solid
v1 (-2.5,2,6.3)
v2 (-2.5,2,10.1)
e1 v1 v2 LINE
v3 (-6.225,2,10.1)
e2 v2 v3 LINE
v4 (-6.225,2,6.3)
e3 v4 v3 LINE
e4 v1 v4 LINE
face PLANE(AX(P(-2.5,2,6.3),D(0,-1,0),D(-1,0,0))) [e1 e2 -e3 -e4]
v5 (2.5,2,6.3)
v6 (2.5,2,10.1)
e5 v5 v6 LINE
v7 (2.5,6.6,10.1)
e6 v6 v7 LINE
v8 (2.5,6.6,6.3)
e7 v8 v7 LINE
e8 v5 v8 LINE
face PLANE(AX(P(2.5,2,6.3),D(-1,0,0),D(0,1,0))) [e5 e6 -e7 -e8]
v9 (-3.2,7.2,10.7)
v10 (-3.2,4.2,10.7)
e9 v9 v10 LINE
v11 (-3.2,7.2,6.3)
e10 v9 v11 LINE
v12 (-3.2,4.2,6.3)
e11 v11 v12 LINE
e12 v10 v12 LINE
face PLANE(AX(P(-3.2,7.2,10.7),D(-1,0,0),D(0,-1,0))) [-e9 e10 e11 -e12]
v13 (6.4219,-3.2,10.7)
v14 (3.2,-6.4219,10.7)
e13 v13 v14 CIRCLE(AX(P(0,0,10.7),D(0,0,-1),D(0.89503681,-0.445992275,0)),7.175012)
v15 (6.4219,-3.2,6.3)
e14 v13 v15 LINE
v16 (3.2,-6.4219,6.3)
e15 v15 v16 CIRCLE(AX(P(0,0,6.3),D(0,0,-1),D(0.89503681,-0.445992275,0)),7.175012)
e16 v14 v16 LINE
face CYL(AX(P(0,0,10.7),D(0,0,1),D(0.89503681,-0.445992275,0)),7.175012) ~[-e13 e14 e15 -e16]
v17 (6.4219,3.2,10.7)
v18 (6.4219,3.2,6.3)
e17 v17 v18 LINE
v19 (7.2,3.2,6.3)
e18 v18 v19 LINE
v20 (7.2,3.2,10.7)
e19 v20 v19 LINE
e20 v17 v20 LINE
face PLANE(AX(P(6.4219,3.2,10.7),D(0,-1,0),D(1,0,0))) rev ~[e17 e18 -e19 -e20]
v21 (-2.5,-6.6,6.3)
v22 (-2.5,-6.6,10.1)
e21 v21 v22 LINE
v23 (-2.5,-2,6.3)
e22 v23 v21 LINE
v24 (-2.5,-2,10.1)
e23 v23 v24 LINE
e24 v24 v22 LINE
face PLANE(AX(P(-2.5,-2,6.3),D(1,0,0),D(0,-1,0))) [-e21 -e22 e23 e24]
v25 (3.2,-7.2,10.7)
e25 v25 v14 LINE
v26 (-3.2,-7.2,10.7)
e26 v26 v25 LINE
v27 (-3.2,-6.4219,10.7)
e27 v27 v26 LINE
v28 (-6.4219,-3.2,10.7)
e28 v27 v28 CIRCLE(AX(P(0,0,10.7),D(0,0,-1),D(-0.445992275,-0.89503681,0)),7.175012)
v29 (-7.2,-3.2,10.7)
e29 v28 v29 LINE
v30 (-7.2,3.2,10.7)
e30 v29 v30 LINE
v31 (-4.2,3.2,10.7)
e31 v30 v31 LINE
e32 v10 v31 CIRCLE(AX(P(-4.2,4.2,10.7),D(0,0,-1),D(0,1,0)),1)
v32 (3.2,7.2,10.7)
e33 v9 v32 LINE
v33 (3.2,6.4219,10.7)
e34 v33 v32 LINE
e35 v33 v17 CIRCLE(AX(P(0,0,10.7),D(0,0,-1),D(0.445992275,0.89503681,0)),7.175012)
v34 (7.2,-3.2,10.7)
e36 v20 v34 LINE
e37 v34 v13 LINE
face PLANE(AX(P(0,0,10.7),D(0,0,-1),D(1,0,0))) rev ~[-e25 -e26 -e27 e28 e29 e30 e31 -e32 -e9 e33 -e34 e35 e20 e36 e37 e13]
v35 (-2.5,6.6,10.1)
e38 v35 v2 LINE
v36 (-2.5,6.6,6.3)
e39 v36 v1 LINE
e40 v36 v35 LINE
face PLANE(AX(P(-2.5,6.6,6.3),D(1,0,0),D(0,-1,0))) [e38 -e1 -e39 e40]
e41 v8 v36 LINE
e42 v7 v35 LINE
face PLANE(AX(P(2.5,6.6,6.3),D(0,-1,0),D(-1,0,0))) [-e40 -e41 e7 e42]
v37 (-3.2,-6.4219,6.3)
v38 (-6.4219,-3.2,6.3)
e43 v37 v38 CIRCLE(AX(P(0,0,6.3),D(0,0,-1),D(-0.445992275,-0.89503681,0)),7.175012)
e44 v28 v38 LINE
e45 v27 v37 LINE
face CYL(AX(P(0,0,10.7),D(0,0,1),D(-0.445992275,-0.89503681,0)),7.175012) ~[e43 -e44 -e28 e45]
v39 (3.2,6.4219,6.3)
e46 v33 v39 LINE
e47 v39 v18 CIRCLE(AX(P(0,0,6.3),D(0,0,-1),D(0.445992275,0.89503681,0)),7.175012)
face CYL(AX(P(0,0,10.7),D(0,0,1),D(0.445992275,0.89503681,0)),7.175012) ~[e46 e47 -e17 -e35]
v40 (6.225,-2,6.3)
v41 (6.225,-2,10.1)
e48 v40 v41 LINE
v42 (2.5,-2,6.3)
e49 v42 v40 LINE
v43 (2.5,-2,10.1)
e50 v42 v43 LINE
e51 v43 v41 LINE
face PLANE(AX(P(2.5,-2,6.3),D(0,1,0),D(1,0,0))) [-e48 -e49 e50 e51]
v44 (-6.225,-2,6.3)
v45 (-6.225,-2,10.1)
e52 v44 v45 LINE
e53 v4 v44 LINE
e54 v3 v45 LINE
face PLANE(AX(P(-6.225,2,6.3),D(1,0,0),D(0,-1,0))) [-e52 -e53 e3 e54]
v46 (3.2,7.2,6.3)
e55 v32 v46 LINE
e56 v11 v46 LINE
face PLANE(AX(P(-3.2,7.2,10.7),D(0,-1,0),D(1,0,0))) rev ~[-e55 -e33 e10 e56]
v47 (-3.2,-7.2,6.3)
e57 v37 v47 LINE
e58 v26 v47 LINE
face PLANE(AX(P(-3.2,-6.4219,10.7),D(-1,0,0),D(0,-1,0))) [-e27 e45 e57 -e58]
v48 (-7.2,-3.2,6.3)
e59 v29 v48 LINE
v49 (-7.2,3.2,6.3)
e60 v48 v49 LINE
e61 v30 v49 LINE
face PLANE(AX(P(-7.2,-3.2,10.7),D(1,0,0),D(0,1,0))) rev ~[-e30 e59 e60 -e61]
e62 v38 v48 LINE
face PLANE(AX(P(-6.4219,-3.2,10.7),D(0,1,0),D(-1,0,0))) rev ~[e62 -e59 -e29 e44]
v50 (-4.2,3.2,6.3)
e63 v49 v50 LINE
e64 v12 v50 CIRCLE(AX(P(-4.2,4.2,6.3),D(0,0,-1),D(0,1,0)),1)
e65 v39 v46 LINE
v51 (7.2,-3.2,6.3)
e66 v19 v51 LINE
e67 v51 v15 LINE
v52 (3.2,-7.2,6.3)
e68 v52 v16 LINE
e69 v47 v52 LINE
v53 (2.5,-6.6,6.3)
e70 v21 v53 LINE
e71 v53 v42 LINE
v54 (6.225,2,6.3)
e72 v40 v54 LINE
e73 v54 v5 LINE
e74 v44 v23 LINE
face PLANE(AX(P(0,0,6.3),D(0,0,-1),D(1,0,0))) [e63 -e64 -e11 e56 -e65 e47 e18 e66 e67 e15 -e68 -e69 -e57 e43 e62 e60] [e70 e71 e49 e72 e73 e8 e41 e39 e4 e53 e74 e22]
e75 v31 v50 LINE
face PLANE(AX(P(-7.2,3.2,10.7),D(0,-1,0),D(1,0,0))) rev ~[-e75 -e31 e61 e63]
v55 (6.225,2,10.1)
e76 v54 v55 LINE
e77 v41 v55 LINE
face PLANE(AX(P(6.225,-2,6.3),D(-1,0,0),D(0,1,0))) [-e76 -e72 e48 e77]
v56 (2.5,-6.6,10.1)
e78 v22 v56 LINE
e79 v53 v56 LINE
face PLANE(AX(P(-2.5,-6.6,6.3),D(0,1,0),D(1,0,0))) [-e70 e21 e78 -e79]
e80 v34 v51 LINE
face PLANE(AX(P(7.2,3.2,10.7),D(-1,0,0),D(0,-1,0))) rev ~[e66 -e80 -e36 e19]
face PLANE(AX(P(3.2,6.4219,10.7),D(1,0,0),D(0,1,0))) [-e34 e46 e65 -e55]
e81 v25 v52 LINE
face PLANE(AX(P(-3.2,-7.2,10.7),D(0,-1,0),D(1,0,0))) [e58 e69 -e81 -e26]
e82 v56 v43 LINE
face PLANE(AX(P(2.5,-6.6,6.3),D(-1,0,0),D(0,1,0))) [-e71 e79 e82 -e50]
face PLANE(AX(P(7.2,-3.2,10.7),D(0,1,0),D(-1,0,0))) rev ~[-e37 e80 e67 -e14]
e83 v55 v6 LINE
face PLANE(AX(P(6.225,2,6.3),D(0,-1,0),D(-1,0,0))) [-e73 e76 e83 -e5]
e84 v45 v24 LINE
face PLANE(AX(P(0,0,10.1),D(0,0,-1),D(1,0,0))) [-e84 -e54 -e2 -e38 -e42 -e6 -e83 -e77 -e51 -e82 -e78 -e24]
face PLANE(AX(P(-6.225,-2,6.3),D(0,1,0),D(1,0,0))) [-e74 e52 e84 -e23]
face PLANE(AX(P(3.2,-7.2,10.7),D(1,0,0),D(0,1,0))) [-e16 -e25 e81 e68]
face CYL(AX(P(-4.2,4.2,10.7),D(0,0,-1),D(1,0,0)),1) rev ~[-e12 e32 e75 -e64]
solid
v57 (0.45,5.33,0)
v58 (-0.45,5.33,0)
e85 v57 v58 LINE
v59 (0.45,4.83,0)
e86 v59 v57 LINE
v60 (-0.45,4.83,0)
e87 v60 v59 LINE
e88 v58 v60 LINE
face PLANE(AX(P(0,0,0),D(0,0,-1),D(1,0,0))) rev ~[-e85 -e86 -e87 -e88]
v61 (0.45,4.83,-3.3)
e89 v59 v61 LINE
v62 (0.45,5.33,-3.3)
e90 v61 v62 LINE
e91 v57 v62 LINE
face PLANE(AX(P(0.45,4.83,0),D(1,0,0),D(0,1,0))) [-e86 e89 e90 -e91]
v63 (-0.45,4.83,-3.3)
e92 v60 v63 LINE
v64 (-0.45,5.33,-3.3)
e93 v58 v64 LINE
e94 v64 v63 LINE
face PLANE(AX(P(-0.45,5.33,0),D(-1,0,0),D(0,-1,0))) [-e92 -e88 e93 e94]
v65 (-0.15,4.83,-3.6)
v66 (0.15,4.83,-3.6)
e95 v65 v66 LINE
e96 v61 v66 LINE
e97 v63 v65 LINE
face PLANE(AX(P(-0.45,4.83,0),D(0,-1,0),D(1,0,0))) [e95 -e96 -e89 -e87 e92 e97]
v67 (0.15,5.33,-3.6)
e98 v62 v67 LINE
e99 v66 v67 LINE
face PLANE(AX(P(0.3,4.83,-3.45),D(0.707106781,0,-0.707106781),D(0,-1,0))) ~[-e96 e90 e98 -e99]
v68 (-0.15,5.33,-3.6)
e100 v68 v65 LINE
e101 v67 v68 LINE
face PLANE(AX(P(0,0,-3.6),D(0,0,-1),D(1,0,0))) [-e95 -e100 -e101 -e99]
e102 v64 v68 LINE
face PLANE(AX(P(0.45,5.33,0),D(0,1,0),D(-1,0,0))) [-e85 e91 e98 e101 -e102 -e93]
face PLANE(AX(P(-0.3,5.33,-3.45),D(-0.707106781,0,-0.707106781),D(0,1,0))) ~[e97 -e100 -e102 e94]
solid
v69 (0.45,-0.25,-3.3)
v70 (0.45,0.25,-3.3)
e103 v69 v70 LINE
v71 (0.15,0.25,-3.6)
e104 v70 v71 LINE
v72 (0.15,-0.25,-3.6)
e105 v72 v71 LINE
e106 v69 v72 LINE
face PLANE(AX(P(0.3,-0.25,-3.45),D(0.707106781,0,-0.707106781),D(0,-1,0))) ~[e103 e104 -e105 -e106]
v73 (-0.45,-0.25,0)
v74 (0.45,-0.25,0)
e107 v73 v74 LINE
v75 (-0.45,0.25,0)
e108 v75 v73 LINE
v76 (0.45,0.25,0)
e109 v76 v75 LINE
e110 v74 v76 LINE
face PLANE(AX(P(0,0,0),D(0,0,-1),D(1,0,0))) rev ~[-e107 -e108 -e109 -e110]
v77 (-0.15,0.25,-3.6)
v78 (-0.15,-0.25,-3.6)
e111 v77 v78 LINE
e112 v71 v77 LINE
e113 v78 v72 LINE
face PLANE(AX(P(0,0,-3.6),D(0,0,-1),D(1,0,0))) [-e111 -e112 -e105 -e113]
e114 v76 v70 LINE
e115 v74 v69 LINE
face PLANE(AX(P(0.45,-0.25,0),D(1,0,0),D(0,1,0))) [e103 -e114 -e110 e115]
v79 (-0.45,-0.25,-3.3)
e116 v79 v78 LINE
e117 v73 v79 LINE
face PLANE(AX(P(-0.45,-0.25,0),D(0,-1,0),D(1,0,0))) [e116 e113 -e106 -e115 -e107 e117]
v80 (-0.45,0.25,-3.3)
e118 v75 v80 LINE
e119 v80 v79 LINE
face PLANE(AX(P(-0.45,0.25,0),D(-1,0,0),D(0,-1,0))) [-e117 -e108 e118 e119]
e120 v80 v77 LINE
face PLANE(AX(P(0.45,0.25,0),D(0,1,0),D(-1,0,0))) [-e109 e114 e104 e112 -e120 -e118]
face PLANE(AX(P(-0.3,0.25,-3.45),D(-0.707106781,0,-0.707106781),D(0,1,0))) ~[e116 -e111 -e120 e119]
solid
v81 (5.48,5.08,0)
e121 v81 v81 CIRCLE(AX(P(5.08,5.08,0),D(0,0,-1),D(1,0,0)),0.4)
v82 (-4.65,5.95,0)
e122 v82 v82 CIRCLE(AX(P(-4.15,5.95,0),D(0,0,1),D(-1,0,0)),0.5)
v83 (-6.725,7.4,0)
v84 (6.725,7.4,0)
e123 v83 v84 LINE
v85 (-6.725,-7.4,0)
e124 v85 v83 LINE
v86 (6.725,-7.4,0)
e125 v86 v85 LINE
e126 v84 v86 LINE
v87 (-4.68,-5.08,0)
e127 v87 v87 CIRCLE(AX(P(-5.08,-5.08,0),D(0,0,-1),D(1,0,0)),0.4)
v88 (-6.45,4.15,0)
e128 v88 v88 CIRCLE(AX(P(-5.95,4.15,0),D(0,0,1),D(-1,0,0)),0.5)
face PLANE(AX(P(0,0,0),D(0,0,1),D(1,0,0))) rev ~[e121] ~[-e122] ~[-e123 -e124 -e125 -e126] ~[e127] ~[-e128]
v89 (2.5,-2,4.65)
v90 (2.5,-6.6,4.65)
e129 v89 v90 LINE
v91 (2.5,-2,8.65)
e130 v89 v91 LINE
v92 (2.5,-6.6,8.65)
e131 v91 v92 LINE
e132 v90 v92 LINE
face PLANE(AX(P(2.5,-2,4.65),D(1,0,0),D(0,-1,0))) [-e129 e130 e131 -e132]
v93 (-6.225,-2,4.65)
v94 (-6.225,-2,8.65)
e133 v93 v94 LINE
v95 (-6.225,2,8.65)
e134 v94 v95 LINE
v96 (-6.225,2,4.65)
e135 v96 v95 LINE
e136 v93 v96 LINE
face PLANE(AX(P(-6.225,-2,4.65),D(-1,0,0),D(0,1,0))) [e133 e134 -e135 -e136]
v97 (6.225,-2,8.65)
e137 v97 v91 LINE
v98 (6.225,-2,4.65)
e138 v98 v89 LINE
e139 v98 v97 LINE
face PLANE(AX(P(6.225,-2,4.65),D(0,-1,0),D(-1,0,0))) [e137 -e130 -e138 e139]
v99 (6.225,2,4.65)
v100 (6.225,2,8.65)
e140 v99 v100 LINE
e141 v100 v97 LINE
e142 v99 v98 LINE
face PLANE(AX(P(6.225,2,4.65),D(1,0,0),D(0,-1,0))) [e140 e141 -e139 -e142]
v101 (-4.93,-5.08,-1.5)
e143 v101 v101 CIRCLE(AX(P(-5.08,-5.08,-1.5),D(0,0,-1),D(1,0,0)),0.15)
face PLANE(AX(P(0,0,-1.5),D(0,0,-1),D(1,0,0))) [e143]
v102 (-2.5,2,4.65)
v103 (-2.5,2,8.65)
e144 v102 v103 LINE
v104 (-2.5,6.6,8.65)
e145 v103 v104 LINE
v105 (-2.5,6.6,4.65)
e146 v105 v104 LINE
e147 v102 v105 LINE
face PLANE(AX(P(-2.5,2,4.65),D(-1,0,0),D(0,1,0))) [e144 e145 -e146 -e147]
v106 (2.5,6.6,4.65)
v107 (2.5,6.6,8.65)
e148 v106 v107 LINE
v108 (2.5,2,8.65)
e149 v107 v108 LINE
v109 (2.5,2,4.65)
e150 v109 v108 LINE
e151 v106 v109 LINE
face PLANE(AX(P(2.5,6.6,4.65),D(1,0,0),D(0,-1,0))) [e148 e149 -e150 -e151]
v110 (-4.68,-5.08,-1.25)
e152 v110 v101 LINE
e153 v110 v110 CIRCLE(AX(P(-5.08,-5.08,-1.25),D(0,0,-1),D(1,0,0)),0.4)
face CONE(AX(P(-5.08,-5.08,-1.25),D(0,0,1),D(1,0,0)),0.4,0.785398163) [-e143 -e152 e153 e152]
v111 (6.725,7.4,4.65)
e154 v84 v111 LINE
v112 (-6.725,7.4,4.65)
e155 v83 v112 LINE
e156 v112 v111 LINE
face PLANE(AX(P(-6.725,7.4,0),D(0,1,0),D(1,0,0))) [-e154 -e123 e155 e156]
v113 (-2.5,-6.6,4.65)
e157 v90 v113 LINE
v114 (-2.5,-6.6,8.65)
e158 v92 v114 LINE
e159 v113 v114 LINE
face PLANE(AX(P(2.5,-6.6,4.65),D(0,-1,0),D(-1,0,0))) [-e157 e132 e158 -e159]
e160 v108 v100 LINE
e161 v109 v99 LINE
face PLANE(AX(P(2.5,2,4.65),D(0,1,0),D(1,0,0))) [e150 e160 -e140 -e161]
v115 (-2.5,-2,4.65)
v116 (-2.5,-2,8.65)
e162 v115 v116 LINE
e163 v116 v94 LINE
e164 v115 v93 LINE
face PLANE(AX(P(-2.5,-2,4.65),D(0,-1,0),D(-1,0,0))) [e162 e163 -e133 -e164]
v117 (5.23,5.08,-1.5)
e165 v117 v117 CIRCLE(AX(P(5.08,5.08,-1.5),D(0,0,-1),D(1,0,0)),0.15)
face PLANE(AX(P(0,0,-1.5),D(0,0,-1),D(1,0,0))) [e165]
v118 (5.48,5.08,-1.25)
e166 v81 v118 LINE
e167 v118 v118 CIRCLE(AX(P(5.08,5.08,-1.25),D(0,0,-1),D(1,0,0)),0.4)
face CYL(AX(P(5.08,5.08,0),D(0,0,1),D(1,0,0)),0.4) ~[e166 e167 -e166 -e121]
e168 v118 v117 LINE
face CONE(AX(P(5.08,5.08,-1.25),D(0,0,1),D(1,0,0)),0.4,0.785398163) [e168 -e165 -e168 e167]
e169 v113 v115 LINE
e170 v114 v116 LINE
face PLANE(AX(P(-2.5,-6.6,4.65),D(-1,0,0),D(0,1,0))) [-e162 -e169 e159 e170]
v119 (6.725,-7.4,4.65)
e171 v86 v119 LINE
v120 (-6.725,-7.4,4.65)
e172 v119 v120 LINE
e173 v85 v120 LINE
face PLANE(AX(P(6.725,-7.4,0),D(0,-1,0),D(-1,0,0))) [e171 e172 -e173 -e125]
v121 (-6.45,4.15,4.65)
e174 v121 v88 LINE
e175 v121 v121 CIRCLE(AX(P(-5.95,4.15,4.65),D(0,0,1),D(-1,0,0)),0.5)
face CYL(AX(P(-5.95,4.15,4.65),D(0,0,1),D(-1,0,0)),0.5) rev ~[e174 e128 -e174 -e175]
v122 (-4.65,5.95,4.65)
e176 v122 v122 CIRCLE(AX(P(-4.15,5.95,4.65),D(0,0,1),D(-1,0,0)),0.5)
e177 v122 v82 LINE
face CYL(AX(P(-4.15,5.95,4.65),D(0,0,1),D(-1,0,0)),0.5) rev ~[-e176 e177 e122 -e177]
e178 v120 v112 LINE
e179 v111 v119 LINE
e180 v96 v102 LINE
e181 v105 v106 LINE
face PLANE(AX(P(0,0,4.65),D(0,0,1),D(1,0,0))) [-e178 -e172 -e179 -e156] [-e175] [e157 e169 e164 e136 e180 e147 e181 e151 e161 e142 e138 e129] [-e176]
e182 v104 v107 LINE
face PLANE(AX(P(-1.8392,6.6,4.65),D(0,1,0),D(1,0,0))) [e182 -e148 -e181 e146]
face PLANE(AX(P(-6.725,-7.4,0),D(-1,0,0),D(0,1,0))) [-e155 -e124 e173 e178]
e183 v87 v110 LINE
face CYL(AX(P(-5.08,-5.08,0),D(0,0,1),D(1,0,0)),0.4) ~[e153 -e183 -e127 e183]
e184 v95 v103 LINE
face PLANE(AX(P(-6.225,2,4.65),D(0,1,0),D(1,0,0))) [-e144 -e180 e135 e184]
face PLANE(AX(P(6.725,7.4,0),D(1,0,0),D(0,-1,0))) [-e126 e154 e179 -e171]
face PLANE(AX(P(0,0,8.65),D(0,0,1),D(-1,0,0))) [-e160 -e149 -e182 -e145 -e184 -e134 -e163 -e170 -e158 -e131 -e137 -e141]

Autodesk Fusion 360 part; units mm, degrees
sketch "Sketch1" plane through (0, 0, 0) normal (0, 0, 1) x (1, 0, 0) in component "Base"
  line L0 (6.725, -7.4) -> (-6.725, -7.4)
  line L1 (-6.725, -7.4) -> (-6.725, 7.4)
  line L2 (-6.725, 7.4) -> (6.725, 7.4)
  line L3 (6.725, 7.4) -> (6.725, -7.4)
  line L4 (6.725, -7.4) -> (-6.725, 7.4) construction
  line L5 (-6.725, -7.4) -> (6.725, 7.4) construction
  dimension "d1" = 13.45
  dimension "d2" = 14.8
extrude "Extrude1" add sketch "Sketch1" along normal blind 4.65 makes body 1 in component "Base"
sketch "Sketch2" plane through (0, 0, 4.65) normal (0, 0, 1) x (-1, 0, 0) in component "Base"
  line L0 (-6.725, -7.4) -> (6.725, -7.4)
  line L1 (6.725, -7.4) -> (6.725, 7.4)
  line L2 (6.725, 7.4) -> (-6.725, 7.4)
  line L3 (-6.725, 7.4) -> (-6.725, -7.4)
  line L4 (0, -7.4) -> (0, 7.4) construction
  line L5 (6.725, 0) -> (-6.725, 0) construction
  line L6 (2.5, -6.6) -> (1.8392, -6.6)
  line L7 (1.8392, -6.6) -> (-2.5, -6.6)
  line L8 (-2.5, -6.6) -> (-2.5, -2)
  line L9 (-2.5, -2) -> (-6.225, -2)
  line L10 (-6.225, -2) -> (-6.225, 2)
  line L11 (-6.225, 2) -> (-2.5, 2)
  line L12 (-2.5, 2) -> (-2.5, 6.6)
  line L13 (-2.5, 6.6) -> (2.5, 6.6)
  line L14 (2.5, 6.6) -> (2.5, 2)
  line L15 (2.5, 2) -> (6.225, 2)
  line L16 (6.225, 2) -> (6.225, -2)
  line L17 (6.225, -2) -> (2.5, -2)
  line L18 (2.5, -2) -> (2.5, -6.6)
  dimension "d5" = 4
  dimension "d6" = 5
  dimension "d7" = 0.8
  dimension "d8" = 0.8
  dimension "d9" = 0.5
extrude "Extrude2" add sketch "Sketch2" along normal blind 4 contours L6 L7 L8 L9 L10 L11 L12 L13 L14 L15 L16 L17 L18 bodies 1 in component "Base"
sketch "Sketch3" plane through (0, 0, 0) normal (0, 0, -1) x (1, 0, 0) in component "Base"
  line L0 (-6.725, -7.4) -> (6.725, -7.4)
  line L1 (6.725, -7.4) -> (6.725, 7.4)
  line L2 (6.725, 7.4) -> (-6.725, 7.4)
  line L3 (-6.725, 7.4) -> (-6.725, -7.4)
  circle A0 centre (5.08, -5.08) radius 0.4
  circle A1 centre (-5.08, 5.08) radius 0.4
  dimension "d12" = 0.8
  dimension "d13" = 5.08
  dimension "d14" = 5.08
  dimension "d15" = 5.08
  dimension "d16" = 5.08
extrude "Extrude3" add sketch "Sketch3" along normal blind 1.5 contours A0 | A1 bodies 1 in component "Base"
chamfer "Chamfer1" distance 0.25 angle 45 2 edges at (-5.4529, -4.9354, -1.5) (4.7071, 5.2246, -1.5) on bodies 1 in component "Base"
sketch "Sketch4" plane through (0, 0, 4.65) normal (0, 0, 1) x (-1, 0, 0) in component "Base"
  line L0 (2.5, -2) -> (2.5, -6.6)
  line L1 (2.5, -6.6) -> (-2.5, -6.6)
  line L2 (-2.5, -6.6) -> (-2.5, -2)
  line L3 (-2.5, -2) -> (-6.225, -2)
  line L4 (-6.225, -2) -> (-6.225, 2)
  line L5 (-6.225, 2) -> (-2.5, 2)
  line L6 (-2.5, 2) -> (-2.5, 6.6)
  line L7 (-2.5, 6.6) -> (2.5, 6.6)
  line L8 (2.5, 6.6) -> (2.5, 2)
  line L9 (2.5, 2) -> (6.225, 2)
  line L10 (6.225, 2) -> (6.225, -2)
  line L11 (6.225, -2) -> (2.5, -2)
  line L12 (-6.725, -7.4) -> (6.725, -7.4)
  line L13 (6.725, -7.4) -> (6.725, 7.4)
  line L14 (6.725, 7.4) -> (-6.725, 7.4)
  line L15 (-6.725, 7.4) -> (-6.725, -7.4)
  circle A0 centre (4.15, -5.95) radius 0.5
  circle A1 centre (5.95, -4.15) radius 0.5
  dimension "d20" = 1
  dimension "d21" = 4.15
  dimension "d22" = 5.95
  dimension "d23" = 4.15
  dimension "d24" = 5.95
extrude "Extrude4" cut sketch "Sketch4" against normal through all contours A0 | A1 bodies 1 in component "Base"
ref_plane "WorkPlane1" through (0, 0, 10.7) normal (0, 0, -1) x (-1, 0, 0) in component "Plunger"
sketch "Sketch1 (2)" plane through (0, 0, 10.7) normal (0, 0, -1) x (1, 0, 0) in component "Plunger"
  line L0 (7.2, 7.2) -> (-7.2, 7.2) construction
  line L1 (-7.2, 7.2) -> (-7.2, -7.2) construction
  line L2 (-7.2, -7.2) -> (7.2, -7.2) construction
  line L3 (7.2, -7.2) -> (7.2, 7.2) construction
  line L4 (7.2, 7.2) -> (-7.2, -7.2) construction
  line L5 (-7.2, 7.2) -> (7.2, -7.2) construction
  line L6 (0, -7.2) -> (0, 7.2) construction
  line L7 (-7.2, 0) -> (7.2, 0) construction
  line L8 (-3.2, 7.2) -> (3.2, 7.2)
  line L9 (-3.2, -7.2) -> (3.2, -7.2)
  line L10 (7.2, -3.2) -> (7.2, 3.2)
  line L11 (-7.2, 3.2) -> (-7.2, -3.2)
  arc A0 (6.4219, 3.2) -> (3.2, 6.4219) centre (0, 0) ccw
  line L12 (7.2, 3.2) -> (6.4219, 3.2)
  line L13 (3.2, 7.2) -> (3.2, 6.4219)
  arc A1 (3.2, -6.4219) -> (6.4219, -3.2) centre (0, 0) ccw
  arc A2 (-3.2, 6.4219) -> (-6.4219, 3.2) centre (0, 0) ccw
  line L14 (-6.4219, 3.2) -> (-7.2, 3.2)
  line L15 (-3.2, 6.4219) -> (-3.2, 7.2)
  line L16 (6.4219, -3.2) -> (7.2, -3.2)
  line L17 (3.2, -6.4219) -> (3.2, -7.2)
  line L18 (-3.2, -7.2) -> (-3.2, -3.2)
  line L19 (-7.2, -3.2) -> (-3.2, -3.2)
  dimension "d33" = 14.4
  dimension "d34" = 14.4
  dimension "d35" = 6.4
  dimension "d36" = 6.4
  dimension "d37" = 6.4
  dimension "d38" = 6.4
  dimension "d39" = 7.175
  dimension "d40" = 0.7781
  dimension "d41" = 0.7781
  dimension "d42" = 7.175
  dimension "d43" = 7.175
extrude "Extrude1'" add sketch "Sketch1 (2)" along normal blind 4.4 separate body makes body 2 in component "Plunger"
fillet "Fillet1" radius 1 1 edges at (-3.2, 3.2, 8.5) on bodies 2 in component "Plunger"
sketch "Sketch2 (2)" plane through (0, 0, 6.3) normal (0, 0, -1) x (1, 0, 0) in component "Plunger"
  arc A0 (-3.2, 6.4219) -> (-6.4219, 3.2) centre (0, 0) ccw
  line L0 (-6.4219, 3.2) -> (-7.2, 3.2)
  line L1 (-7.2, 3.2) -> (-7.2, -3.2)
  line L2 (-7.2, -3.2) -> (-4.2, -3.2)
  arc A1 (-3.2, -4.2) -> (-4.2, -3.2) centre (-4.2, -4.2) ccw
  line L3 (-3.2, -4.2) -> (-3.2, -7.2)
  line L4 (-3.2, -7.2) -> (3.2, -7.2)
  line L5 (3.2, -7.2) -> (3.2, -6.4219)
  arc A2 (3.2, -6.4219) -> (6.4219, -3.2) centre (0, 0) ccw
  line L6 (6.4219, -3.2) -> (7.2, -3.2)
  line L7 (7.2, -3.2) -> (7.2, 3.2)
  line L8 (7.2, 3.2) -> (6.4219, 3.2)
  arc A3 (6.4219, 3.2) -> (3.2, 6.4219) centre (0, 0) ccw
  line L9 (3.2, 6.4219) -> (3.2, 7.2)
  line L10 (3.2, 7.2) -> (-3.2, 7.2)
  line L11 (-3.2, 7.2) -> (-3.2, 6.4219)
  line L12 (-2.5, -2) -> (-6.225, -2)
  line L13 (-6.225, -2) -> (-6.225, 2)
  line L14 (-6.225, 2) -> (-2.5, 2)
  line L15 (-2.5, 2) -> (-2.5, 6.6)
  line L16 (-2.5, 6.6) -> (2.5, 6.6)
  line L17 (2.5, 6.6) -> (2.5, 2)
  line L18 (2.5, 2) -> (6.225, 2)
  line L19 (6.225, 2) -> (6.225, -2)
  line L20 (6.225, -2) -> (2.5, -2)
  line L21 (2.5, -2) -> (2.5, -6.6)
  line L22 (2.5, -6.6) -> (-2.5, -6.6)
  line L23 (-2.5, -6.6) -> (-2.5, -2)
extrude "Extrude2'" cut sketch "Sketch2 (2)" against normal blind 3.8 contours L12 L13 L14 L15 L16 L17 L18 L19 L20 L21 L22 L23 bodies 2 in component "Plunger"
sketch "Sketch1 (3)" plane through (0, 0, 0) normal (0, 0, -1) x (1, 0, 0) in component "PIns"
  circle A0 centre (-4.15, -5.95) radius 0.5
  circle A1 centre (-5.95, -4.15) radius 0.5
  circle A2 centre (-5.08, 5.08) radius 0.4
  circle A3 centre (5.08, -5.08) radius 0.4
  line L0 (-6.725, -7.4) -> (6.725, -7.4)
  line L1 (6.725, -7.4) -> (6.725, 7.4)
  line L2 (6.725, 7.4) -> (-6.725, 7.4)
  line L3 (-6.725, 7.4) -> (-6.725, -7.4)
  line L4 (0, 0) -> (0, -7.4) construction
  line L5 (0.45, -0.25) -> (-0.45, -0.25)
  line L6 (-0.45, -0.25) -> (-0.45, 0.25)
  line L7 (-0.45, 0.25) -> (0.45, 0.25)
  line L8 (0.45, 0.25) -> (0.45, -0.25)
  line L9 (0.45, -0.25) -> (-0.45, 0.25) construction
  line L10 (-0.45, -0.25) -> (0.45, 0.25) construction
  line L11 (0.45, -5.33) -> (-0.45, -5.33)
  line L12 (-0.45, -5.33) -> (-0.45, -4.83)
  line L13 (-0.45, -4.83) -> (0.45, -4.83)
  line L14 (0.45, -4.83) -> (0.45, -5.33)
  line L15 (0.45, -5.33) -> (-0.45, -4.83) construction
  line L16 (-0.45, -5.33) -> (0.45, -4.83) construction
  point P0 (0, -5.08)
  dimension "d50" = 0.9
  dimension "d51" = 0.5
  dimension "d52" = 0.5
  dimension "d53" = 0.9
  dimension "d54" = 5.08
extrude "Extrude1''" add sketch "Sketch1 (3)" along normal blind 3.6 separate body contours L5 L6 L7 L8 | L11 L12 L13 L14 makes body 3 at (0.15, 0.25, -1.2) makes body 4 at (-0.15, 4.83, -1.2) in component "PIns"
chamfer "Chamfer1'" distance 0.3 angle 45 4 edges at (-0.45, 0, -3.6) (0.45, 0, -3.6) (-0.45, 5.08, -3.6) (0.45, 5.08, -3.6) on bodies 3 4 in component "PIns"
component "Base" placed x (1, 0, 0) y (0, 1, 0) z (0, 0, 1) at (0, 0, 0)
component "Plunger" placed x (1, 0, 0) y (0, 1, 0) z (0, 0, 1) at (0, 0, 0)
component "PIns" placed x (1, 0, 0) y (0, 1, 0) z (0, 0, 1) at (0, 0, 0)
equation "d8 = d7"
equation "d15 = d13"
equation "d16 = d14"
equation "d36 = d35"
equation "d37 = d35"
equation "d38 = d35"
equation "d42 = d39"
equation "d43 = d39"
equation "d52 = d51"
equation "d53 = d50"
